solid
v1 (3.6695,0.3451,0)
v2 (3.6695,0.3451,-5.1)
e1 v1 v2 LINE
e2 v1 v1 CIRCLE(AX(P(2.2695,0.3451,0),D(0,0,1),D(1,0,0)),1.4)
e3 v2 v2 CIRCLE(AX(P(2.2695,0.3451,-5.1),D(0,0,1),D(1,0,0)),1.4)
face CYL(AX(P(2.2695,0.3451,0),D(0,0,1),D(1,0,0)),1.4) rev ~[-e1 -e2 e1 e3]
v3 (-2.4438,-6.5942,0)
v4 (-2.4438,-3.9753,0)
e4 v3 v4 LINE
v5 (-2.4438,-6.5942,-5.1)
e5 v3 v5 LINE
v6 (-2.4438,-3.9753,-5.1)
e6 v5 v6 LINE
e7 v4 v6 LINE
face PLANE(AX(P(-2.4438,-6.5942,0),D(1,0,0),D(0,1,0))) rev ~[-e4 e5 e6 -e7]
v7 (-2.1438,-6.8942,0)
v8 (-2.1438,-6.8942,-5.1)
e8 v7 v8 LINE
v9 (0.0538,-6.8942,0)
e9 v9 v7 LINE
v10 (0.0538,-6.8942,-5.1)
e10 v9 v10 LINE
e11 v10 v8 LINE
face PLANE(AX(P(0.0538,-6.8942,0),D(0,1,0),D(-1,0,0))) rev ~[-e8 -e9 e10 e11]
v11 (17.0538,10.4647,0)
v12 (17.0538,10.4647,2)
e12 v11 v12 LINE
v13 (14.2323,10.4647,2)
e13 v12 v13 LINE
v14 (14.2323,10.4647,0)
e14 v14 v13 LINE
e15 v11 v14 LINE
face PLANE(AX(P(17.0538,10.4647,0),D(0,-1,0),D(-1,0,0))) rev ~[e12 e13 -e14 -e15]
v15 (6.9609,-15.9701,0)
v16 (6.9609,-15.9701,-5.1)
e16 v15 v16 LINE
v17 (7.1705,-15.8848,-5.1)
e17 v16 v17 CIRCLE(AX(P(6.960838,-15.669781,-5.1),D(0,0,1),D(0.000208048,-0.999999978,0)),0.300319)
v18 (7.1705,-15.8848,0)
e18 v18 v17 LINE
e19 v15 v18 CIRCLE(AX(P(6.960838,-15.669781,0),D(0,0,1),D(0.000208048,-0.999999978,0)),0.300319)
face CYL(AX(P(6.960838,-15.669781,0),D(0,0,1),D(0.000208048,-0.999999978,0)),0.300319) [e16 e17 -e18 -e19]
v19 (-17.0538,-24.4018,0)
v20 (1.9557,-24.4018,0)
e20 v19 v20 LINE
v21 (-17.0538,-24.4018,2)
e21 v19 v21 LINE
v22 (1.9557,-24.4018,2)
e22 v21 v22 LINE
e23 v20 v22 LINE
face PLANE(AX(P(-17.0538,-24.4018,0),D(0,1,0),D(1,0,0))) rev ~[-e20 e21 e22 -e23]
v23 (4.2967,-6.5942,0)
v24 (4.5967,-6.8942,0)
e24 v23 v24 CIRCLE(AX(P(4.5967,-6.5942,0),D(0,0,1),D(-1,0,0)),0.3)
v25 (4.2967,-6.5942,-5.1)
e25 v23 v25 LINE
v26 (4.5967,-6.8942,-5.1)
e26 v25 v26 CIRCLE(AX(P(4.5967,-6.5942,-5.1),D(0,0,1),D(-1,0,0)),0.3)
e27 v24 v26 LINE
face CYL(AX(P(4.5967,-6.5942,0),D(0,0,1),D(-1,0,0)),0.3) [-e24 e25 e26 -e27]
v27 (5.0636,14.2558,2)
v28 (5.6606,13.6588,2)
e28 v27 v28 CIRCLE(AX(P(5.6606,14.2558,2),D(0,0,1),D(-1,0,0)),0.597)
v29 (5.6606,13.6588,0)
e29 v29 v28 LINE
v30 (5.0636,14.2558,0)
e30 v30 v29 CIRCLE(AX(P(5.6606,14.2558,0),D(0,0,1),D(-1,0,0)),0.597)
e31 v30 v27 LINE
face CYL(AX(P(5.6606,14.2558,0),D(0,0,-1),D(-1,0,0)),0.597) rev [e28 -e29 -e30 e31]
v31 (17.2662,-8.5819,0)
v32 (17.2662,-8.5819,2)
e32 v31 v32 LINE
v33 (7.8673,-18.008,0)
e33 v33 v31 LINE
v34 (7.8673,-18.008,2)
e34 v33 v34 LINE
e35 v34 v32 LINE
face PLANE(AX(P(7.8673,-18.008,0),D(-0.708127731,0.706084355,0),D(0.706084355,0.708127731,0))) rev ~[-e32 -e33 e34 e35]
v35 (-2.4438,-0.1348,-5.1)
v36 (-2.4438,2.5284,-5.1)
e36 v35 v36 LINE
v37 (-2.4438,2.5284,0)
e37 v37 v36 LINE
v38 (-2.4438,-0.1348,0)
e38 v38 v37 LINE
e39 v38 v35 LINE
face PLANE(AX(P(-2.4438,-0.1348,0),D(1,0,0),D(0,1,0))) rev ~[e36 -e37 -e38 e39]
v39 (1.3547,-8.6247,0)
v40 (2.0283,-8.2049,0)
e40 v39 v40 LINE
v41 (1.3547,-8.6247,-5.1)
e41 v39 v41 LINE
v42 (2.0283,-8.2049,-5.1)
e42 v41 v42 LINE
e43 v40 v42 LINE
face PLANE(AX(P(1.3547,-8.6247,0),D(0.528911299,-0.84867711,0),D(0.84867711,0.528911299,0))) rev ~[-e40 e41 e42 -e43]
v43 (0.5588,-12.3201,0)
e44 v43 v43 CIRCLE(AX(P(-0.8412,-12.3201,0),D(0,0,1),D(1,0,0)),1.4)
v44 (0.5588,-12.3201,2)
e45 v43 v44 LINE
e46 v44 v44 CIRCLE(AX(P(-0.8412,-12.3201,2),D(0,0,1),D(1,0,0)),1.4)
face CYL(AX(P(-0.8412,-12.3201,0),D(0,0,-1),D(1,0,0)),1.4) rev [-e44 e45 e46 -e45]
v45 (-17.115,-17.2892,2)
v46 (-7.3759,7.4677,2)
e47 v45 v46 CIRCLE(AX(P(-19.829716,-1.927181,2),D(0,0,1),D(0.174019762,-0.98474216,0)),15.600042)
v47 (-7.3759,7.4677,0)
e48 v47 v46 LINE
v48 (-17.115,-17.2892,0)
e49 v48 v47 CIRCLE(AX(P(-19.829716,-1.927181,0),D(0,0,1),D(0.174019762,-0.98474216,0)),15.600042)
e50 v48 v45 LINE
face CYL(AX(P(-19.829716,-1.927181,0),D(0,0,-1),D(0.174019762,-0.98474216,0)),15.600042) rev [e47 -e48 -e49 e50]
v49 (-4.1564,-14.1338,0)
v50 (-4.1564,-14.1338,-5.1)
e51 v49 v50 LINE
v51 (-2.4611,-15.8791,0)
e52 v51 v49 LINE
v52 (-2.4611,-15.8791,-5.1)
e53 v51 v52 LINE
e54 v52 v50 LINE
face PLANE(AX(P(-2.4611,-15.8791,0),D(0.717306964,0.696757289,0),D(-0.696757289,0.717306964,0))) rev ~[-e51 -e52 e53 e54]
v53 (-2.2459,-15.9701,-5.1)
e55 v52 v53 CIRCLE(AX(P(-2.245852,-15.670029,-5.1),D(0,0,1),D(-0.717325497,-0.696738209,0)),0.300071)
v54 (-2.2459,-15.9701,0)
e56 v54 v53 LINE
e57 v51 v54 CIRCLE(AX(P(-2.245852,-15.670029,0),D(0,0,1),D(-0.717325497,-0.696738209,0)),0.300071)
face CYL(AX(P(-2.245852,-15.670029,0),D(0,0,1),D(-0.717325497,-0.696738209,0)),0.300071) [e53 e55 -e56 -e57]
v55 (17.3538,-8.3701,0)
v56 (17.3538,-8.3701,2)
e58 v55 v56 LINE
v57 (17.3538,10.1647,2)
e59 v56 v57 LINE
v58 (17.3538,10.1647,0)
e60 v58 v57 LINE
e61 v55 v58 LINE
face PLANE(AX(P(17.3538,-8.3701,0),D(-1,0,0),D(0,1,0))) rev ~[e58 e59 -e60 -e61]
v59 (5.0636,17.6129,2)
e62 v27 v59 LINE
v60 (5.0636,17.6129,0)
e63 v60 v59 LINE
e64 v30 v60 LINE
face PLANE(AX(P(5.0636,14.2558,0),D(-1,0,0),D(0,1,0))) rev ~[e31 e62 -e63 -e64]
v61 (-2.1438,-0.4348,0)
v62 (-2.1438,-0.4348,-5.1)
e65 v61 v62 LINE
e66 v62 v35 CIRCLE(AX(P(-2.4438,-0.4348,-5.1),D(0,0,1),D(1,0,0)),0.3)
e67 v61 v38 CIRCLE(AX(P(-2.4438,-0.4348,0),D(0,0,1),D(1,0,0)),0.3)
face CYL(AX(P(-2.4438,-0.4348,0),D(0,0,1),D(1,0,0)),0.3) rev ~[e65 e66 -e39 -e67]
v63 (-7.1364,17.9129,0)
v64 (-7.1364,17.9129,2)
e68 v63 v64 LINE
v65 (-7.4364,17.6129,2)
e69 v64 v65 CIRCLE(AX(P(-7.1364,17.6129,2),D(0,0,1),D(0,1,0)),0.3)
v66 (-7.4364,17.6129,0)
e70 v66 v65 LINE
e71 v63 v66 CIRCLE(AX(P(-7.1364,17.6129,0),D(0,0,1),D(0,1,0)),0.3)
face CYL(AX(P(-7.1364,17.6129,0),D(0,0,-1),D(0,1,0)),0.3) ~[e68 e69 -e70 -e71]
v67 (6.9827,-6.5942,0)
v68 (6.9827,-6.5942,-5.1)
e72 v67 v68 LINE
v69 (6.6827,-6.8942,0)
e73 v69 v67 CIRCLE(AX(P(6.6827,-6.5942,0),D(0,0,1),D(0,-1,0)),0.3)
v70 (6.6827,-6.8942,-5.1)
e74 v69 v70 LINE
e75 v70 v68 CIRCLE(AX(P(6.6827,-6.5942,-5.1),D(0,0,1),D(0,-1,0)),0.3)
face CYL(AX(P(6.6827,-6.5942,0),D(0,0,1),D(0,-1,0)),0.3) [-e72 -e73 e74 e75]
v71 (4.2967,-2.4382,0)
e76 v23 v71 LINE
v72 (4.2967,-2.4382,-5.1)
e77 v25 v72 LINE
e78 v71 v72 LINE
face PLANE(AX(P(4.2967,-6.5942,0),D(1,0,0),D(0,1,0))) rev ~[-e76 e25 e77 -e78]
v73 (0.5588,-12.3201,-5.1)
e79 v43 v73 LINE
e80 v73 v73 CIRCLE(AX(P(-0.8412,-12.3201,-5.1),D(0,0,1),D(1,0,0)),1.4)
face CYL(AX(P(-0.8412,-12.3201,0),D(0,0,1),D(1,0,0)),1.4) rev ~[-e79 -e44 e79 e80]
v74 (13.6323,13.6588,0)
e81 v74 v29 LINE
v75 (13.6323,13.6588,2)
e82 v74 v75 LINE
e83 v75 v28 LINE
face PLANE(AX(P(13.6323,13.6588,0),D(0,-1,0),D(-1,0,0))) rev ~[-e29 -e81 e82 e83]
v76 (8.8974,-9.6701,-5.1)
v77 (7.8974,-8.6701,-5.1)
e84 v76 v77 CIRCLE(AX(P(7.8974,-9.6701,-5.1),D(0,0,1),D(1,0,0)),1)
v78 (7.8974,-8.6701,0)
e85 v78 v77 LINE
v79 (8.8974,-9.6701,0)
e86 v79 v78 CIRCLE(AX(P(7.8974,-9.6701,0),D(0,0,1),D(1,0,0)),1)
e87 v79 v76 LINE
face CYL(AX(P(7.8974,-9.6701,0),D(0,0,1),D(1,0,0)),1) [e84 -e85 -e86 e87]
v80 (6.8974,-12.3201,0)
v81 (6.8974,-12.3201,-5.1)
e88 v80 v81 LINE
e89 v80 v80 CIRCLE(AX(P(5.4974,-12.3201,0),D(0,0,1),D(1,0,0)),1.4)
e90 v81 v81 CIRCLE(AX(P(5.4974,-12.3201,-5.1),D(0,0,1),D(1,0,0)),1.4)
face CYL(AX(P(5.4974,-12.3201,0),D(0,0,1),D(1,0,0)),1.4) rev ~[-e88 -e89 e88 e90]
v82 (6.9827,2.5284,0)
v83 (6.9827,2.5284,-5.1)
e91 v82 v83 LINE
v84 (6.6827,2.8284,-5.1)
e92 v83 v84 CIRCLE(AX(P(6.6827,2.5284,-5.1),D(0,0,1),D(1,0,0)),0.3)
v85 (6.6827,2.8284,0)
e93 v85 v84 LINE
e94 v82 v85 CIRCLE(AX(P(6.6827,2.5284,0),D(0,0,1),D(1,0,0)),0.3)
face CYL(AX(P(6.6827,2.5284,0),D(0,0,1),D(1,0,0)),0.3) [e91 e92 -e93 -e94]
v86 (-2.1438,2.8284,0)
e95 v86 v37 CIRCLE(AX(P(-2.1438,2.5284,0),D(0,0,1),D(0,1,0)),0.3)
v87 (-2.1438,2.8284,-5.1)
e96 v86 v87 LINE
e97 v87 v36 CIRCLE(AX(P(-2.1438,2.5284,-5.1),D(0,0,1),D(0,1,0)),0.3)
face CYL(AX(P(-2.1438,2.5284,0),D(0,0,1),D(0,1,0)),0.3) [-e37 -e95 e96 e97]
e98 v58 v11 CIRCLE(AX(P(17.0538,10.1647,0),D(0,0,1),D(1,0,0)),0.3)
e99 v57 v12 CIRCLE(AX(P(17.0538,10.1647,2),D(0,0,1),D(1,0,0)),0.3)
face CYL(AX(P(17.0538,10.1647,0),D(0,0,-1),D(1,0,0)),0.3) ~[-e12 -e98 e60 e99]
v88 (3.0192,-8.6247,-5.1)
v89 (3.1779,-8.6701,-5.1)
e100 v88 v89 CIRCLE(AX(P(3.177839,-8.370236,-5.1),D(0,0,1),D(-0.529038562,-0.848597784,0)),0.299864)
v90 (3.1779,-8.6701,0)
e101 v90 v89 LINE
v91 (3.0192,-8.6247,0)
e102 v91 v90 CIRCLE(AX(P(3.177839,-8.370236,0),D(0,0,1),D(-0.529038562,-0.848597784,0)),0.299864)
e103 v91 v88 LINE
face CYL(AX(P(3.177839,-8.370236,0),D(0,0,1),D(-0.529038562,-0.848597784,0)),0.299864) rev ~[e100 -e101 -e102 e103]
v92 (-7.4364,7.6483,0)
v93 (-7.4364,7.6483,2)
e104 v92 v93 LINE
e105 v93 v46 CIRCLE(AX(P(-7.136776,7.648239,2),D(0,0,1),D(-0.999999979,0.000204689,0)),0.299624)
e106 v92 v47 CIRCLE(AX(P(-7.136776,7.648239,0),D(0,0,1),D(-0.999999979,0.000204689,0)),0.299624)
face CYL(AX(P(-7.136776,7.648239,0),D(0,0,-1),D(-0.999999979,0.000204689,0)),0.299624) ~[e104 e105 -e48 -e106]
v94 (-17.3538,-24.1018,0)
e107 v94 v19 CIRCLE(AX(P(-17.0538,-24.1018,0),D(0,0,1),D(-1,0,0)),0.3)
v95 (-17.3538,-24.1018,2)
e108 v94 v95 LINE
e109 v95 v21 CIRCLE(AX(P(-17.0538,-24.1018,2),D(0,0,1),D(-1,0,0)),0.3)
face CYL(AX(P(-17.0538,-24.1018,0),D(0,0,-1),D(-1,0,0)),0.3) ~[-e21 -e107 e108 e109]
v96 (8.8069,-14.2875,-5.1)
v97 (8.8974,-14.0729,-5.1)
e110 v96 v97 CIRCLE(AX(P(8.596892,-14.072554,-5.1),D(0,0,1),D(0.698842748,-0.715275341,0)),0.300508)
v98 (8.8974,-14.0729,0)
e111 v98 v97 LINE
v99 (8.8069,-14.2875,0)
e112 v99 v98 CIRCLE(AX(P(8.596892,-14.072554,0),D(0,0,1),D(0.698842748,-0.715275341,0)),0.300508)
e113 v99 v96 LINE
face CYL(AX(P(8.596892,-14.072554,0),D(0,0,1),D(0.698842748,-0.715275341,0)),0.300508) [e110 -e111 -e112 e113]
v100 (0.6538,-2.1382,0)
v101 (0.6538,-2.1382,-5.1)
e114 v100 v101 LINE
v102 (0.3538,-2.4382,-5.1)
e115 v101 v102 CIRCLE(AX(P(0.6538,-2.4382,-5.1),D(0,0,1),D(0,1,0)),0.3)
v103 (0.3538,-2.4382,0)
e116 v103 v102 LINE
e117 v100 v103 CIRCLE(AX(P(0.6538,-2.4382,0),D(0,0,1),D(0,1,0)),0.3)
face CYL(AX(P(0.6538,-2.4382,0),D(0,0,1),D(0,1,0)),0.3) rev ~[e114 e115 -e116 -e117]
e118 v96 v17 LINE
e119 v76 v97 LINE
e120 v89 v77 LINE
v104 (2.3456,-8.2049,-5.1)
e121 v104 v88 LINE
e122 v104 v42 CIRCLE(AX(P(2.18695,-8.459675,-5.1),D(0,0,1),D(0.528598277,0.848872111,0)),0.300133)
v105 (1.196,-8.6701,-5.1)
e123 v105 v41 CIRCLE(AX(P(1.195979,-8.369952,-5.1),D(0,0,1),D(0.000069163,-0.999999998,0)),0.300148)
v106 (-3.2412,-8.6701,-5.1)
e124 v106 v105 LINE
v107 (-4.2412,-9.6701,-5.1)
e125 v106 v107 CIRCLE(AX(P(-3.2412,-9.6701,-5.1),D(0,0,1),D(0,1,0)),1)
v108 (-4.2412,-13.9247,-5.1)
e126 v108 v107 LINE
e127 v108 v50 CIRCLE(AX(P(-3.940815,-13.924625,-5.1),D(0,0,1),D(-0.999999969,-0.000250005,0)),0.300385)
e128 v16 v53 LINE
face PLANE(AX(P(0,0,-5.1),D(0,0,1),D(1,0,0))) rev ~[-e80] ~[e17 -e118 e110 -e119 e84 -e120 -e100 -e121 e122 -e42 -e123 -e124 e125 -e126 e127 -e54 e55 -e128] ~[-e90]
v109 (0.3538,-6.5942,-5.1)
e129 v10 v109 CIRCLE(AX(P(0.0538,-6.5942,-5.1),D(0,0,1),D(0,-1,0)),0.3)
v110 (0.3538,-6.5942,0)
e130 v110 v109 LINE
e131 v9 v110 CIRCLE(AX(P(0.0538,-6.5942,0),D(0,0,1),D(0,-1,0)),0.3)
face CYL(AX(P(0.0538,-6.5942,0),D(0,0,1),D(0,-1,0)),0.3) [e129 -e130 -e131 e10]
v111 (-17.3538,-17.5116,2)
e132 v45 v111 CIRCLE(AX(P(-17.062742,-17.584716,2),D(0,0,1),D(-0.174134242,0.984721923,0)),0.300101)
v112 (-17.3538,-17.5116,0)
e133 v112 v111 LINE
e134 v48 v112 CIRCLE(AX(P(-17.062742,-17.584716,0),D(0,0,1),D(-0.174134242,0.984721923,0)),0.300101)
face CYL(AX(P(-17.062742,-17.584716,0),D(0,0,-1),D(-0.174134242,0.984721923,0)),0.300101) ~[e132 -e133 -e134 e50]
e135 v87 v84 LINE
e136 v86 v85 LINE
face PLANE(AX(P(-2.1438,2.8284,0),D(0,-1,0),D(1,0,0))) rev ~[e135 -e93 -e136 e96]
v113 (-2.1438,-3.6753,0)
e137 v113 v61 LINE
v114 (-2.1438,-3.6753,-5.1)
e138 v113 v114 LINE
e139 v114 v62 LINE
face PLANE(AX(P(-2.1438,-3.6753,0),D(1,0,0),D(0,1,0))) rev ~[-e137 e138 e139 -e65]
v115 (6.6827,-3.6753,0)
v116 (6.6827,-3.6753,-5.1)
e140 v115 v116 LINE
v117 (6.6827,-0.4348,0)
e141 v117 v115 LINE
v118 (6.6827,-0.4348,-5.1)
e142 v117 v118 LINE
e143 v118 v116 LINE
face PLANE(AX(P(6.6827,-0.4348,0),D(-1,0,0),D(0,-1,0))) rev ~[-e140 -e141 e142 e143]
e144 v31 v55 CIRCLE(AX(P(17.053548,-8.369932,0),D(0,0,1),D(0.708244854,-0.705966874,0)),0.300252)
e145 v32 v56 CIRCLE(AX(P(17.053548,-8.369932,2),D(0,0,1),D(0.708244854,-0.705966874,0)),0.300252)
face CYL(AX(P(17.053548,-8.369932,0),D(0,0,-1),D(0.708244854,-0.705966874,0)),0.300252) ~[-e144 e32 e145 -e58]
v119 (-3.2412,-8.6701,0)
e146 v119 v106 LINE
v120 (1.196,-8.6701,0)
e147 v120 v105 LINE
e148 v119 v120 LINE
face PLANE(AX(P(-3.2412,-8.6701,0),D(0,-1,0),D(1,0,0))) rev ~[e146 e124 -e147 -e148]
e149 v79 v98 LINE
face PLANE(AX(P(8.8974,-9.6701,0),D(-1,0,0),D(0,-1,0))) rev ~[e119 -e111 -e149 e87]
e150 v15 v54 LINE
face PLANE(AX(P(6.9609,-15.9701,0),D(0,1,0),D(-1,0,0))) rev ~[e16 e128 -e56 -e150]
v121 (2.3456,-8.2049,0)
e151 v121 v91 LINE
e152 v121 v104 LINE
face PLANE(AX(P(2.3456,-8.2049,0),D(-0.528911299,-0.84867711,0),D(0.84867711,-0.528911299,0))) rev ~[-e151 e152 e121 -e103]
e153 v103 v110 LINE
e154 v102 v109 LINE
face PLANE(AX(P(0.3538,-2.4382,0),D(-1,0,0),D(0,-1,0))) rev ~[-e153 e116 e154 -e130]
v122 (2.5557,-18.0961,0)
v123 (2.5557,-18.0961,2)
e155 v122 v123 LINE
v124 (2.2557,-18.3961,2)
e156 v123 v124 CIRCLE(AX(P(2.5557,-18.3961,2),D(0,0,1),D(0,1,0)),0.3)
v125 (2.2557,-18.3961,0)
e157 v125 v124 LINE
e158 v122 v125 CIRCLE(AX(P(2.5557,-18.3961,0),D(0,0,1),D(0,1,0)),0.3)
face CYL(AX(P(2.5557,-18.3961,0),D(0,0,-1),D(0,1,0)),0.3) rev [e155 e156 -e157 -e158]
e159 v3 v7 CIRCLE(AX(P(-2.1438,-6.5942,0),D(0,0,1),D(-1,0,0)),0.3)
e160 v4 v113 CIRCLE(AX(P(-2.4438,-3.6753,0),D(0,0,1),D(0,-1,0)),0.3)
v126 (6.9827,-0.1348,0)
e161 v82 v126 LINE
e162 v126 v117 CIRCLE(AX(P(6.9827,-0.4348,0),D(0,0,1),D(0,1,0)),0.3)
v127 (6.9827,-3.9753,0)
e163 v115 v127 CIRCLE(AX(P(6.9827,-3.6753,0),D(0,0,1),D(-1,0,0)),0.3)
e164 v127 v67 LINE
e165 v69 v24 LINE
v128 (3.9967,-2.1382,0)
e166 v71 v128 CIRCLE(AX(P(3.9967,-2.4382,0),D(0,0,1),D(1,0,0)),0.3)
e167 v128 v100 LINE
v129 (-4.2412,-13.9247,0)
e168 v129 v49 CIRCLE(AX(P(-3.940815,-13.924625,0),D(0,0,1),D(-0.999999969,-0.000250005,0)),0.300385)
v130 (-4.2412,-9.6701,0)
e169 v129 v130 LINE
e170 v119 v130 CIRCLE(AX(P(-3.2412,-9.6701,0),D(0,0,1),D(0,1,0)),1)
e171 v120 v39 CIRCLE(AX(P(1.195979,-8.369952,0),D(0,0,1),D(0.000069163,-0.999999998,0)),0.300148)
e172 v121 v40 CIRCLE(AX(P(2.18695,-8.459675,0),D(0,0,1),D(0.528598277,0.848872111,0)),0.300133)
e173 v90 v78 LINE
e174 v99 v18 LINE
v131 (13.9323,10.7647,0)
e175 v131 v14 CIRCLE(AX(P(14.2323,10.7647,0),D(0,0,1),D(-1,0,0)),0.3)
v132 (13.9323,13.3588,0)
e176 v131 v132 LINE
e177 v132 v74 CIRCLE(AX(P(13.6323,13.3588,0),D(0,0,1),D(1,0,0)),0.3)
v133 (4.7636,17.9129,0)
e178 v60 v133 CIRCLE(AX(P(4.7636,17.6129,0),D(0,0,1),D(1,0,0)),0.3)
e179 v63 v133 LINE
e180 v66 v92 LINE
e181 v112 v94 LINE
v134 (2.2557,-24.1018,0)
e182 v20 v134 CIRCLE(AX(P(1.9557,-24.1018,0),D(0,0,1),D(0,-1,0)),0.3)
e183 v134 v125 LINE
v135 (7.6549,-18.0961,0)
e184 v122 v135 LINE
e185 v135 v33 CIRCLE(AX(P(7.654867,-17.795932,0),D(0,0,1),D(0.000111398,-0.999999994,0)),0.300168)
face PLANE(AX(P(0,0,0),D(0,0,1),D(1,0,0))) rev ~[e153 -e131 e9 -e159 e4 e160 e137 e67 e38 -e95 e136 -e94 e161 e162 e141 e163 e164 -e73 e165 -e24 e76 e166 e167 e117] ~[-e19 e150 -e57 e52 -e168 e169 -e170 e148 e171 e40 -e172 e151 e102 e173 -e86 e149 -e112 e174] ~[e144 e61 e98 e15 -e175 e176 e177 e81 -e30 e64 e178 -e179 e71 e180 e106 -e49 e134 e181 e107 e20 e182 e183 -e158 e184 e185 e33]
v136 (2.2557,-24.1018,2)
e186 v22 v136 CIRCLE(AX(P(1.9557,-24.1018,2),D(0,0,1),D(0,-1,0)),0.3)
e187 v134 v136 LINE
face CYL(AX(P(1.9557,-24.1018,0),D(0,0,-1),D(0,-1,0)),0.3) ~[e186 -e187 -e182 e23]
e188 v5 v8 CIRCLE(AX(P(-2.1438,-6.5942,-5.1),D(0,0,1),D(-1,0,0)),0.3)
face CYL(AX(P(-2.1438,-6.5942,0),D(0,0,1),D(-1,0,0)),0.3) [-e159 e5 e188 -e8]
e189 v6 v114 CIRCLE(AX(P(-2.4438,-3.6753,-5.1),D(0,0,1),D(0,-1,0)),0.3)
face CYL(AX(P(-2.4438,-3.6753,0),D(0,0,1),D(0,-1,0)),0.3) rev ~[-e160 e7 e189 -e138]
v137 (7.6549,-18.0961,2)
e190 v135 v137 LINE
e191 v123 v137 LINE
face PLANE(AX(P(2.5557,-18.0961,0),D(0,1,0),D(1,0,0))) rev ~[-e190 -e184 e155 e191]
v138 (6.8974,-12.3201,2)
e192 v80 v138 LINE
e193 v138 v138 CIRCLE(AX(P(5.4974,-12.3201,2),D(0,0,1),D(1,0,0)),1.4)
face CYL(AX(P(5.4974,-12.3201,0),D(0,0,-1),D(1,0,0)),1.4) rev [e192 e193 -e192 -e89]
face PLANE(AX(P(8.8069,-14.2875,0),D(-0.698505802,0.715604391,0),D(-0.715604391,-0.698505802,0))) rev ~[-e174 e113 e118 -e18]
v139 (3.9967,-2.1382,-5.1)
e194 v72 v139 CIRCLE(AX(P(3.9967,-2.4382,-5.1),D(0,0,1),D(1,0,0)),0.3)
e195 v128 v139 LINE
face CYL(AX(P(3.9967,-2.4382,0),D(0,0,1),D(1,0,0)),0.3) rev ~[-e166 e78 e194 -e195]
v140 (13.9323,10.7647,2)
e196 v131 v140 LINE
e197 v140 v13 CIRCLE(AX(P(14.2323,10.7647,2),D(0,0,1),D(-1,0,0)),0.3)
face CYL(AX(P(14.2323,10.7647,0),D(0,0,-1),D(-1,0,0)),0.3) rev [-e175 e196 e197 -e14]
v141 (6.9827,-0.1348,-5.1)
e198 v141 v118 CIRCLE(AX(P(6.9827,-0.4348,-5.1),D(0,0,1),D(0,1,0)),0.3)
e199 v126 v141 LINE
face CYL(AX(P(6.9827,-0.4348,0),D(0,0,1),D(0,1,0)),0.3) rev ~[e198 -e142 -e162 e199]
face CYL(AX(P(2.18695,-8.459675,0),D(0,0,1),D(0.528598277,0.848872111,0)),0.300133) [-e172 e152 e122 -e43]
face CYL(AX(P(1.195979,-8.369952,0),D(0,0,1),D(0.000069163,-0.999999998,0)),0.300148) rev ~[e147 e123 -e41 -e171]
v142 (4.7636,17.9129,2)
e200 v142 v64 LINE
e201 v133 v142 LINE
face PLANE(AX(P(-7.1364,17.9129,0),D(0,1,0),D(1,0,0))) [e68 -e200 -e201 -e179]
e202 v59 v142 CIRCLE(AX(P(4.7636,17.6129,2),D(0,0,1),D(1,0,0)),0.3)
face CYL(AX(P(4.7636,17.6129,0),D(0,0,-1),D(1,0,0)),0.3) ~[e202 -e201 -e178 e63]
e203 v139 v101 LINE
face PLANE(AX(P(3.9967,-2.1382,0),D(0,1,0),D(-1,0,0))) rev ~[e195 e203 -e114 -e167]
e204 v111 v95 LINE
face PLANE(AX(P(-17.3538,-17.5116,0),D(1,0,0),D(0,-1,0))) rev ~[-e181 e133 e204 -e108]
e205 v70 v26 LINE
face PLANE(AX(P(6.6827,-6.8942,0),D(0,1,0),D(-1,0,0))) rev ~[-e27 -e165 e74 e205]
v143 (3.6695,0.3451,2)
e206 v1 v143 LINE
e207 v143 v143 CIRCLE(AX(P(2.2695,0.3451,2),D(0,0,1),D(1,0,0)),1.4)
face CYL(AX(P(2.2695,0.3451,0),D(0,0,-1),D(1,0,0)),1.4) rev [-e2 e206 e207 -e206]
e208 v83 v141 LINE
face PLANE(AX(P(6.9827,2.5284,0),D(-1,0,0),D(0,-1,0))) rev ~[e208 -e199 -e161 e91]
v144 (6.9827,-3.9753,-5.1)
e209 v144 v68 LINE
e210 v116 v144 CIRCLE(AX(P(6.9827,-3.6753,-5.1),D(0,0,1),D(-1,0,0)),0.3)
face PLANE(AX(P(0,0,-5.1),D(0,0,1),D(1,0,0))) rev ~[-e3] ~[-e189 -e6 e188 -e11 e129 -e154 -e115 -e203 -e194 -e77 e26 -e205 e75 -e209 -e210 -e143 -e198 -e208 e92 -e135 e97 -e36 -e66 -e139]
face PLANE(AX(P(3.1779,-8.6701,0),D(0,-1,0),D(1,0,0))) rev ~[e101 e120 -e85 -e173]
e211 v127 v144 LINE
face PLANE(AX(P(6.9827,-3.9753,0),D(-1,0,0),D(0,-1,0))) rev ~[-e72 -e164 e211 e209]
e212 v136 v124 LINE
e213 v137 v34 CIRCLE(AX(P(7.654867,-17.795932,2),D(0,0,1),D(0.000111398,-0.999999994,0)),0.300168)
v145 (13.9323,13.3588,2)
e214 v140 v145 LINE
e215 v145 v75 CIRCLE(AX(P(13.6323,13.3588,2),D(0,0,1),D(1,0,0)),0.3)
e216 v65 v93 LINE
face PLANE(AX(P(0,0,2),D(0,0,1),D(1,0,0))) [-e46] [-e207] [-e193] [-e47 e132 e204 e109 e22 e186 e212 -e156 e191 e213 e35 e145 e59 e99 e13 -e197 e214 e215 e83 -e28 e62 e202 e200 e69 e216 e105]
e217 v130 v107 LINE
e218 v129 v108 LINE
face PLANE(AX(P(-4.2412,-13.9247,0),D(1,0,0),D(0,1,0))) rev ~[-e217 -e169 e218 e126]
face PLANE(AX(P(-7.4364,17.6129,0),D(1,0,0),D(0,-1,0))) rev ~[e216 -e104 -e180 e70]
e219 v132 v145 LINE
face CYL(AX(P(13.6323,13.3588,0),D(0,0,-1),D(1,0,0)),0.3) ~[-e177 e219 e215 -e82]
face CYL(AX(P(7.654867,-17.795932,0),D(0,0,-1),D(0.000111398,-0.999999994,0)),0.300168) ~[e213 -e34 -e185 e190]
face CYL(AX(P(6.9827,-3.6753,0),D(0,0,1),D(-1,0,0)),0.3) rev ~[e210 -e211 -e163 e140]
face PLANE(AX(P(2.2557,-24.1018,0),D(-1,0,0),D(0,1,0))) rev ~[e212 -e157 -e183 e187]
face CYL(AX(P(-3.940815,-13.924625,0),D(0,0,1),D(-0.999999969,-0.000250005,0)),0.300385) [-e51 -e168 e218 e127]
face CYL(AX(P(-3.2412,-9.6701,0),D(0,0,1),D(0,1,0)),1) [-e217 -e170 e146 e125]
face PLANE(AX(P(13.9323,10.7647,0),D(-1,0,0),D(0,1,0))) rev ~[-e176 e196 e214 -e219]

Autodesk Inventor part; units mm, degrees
ref_plane "YZ Plane" through (0, 0, 0) normal (1, 0, 0) x (0, 1, 0)
ref_plane "Work Plane1" through (-17.3538, -25.3153, -5.1) normal (0, 0, 1) x (1, 0, 0)
sketch "holes" plane through (0, 0, 0) normal (0, 0, 1) x (1, 0, 0)
  arc A0 (17.3538, 10.1647) -> (17.0538, 10.4647) centre (17.0538, 10.1647) ccw
  line L0 (17.0538, 10.4647) -> (14.2323, 10.4647)
  arc A1 (13.9323, 10.7647) -> (14.2323, 10.4647) centre (14.2323, 10.7647) ccw
  line L1 (13.9323, 10.7647) -> (13.9323, 13.3588)
  arc A2 (13.9323, 13.3588) -> (13.6323, 13.6588) centre (13.6323, 13.3588) ccw
  line L2 (13.6323, 13.6588) -> (5.6606, 13.6588)
  arc A3 (5.0636, 14.2558) -> (5.6606, 13.6588) centre (5.6606, 14.2558) ccw
  line L3 (5.0636, 14.2558) -> (5.0636, 17.6129)
  arc A4 (5.0636, 17.6129) -> (4.7636, 17.9129) centre (4.7636, 17.6129) ccw
  line L4 (4.7636, 17.9129) -> (-1.9383, 17.9129)
  arc A5 (-2.2383, 18.2129) -> (-1.9383, 17.9129) centre (-1.9383, 18.2129) ccw
  line L5 (-2.2383, 18.2129) -> (-2.2383, 18.3742)
  arc A6 (-2.2383, 18.3742) -> (-2.5383, 18.6742) centre (-2.5383, 18.3742) ccw
  line L6 (-2.5383, 18.6742) -> (-3.5364, 18.6742)
  arc A7 (-3.8364, 18.9742) -> (-3.5364, 18.6742) centre (-3.5364, 18.9742) ccw
  line L7 (-3.8364, 18.9742) -> (-3.8364, 19.9671)
  arc A8 (-3.8364, 19.9671) -> (-4.1364, 20.2671) centre (-4.1364, 19.9671) ccw
  line L8 (-4.1364, 20.2671) -> (-5.1364, 20.2671)
  arc A9 (-5.4364, 20.5671) -> (-5.1364, 20.2671) centre (-5.1364, 20.5671) ccw
  line L9 (-5.4364, 20.5671) -> (-5.4364, 24.1018)
  arc A10 (-5.4364, 24.1018) -> (-5.7364, 24.4018) centre (-5.7364, 24.1018) ccw
  line L10 (-5.7364, 24.4018) -> (-7.1364, 24.4018)
  arc A11 (-7.1364, 24.4018) -> (-7.4364, 24.1018) centre (-7.1364, 24.1018) ccw
  line L11 (-7.4364, 24.1018) -> (-7.4364, 7.6483)
  arc A12 (-7.4364, 7.6483) -> (-7.3759, 7.4677) centre (-7.1364, 7.6483) ccw
  arc A13 (-17.115, -17.2892) -> (-7.3759, 7.4677) centre (-19.8297, -1.9272) ccw
  arc A14 (-17.115, -17.2892) -> (-17.3538, -17.5116) centre (-17.0628, -17.5846) ccw
  line L12 (-17.3538, -17.5116) -> (-17.3538, -24.1018)
  arc A15 (-17.3538, -24.1018) -> (-17.0538, -24.4018) centre (-17.0538, -24.1018) ccw
  line L13 (-17.0538, -24.4018) -> (1.9557, -24.4018)
  arc A16 (1.9557, -24.4018) -> (2.2557, -24.1018) centre (1.9557, -24.1018) ccw
  line L14 (2.2557, -24.1018) -> (2.2557, -18.3961)
  arc A17 (2.5557, -18.0961) -> (2.2557, -18.3961) centre (2.5557, -18.3961) ccw
  line L15 (2.5557, -18.0961) -> (7.6549, -18.0961)
  arc A18 (7.6549, -18.0961) -> (7.8673, -18.008) centre (7.6549, -17.7961) ccw
  line L16 (7.8673, -18.008) -> (17.2662, -8.5819)
  arc A19 (17.2662, -8.5819) -> (17.3538, -8.3701) centre (17.0538, -8.3701) ccw
  line L17 (17.3538, -8.3701) -> (17.3538, 10.1647)
  arc A20 (1.196, -8.6701) -> (1.3547, -8.6247) centre (1.196, -8.3701) ccw
  line L18 (1.3547, -8.6247) -> (2.0283, -8.2049)
  arc A21 (2.3456, -8.2049) -> (2.0283, -8.2049) centre (2.187, -8.4595) ccw
  line L19 (2.3456, -8.2049) -> (3.0192, -8.6247)
  arc A22 (3.0192, -8.6247) -> (3.1779, -8.6701) centre (3.1779, -8.3701) ccw
  line L20 (3.1779, -8.6701) -> (7.8974, -8.6701)
  arc A23 (8.8974, -9.6701) -> (7.8974, -8.6701) centre (7.8974, -9.6701) ccw
  line L21 (8.8974, -9.6701) -> (8.8974, -14.0729)
  arc A24 (8.8069, -14.2875) -> (8.8974, -14.0729) centre (8.5974, -14.0729) ccw
  line L22 (8.8069, -14.2875) -> (7.1705, -15.8848)
  arc A25 (6.9609, -15.9701) -> (7.1705, -15.8848) centre (6.9609, -15.6701) ccw
  line L23 (6.9609, -15.9701) -> (-2.2459, -15.9701)
  arc A26 (-2.4611, -15.8791) -> (-2.2459, -15.9701) centre (-2.2459, -15.6701) ccw
  line L24 (-2.4611, -15.8791) -> (-4.1564, -14.1338)
  arc A27 (-4.2412, -13.9247) -> (-4.1564, -14.1338) centre (-3.9412, -13.9247) ccw
  line L25 (-4.2412, -13.9247) -> (-4.2412, -9.6701)
  arc A28 (-3.2412, -8.6701) -> (-4.2412, -9.6701) centre (-3.2412, -9.6701) ccw
  line L26 (-3.2412, -8.6701) -> (1.196, -8.6701)
  arc A29 (4.2967, -2.4382) -> (3.9967, -2.1382) centre (3.9967, -2.4382) ccw
  line L27 (3.9967, -2.1382) -> (0.6538, -2.1382)
  arc A30 (0.6538, -2.1382) -> (0.3538, -2.4382) centre (0.6538, -2.4382) ccw
  line L28 (0.3538, -2.4382) -> (0.3538, -6.5942)
  arc A31 (0.0538, -6.8942) -> (0.3538, -6.5942) centre (0.0538, -6.5942) ccw
  line L29 (0.0538, -6.8942) -> (-2.1438, -6.8942)
  arc A32 (-2.4438, -6.5942) -> (-2.1438, -6.8942) centre (-2.1438, -6.5942) ccw
  line L30 (-2.4438, -6.5942) -> (-2.4438, -3.9753)
  arc A33 (-2.4438, -3.9753) -> (-2.1438, -3.6753) centre (-2.4438, -3.6753) ccw
  line L31 (-2.1438, -3.6753) -> (-2.1438, -0.4348)
  arc A34 (-2.1438, -0.4348) -> (-2.4438, -0.1348) centre (-2.4438, -0.4348) ccw
  line L32 (-2.4438, -0.1348) -> (-2.4438, 2.5284)
  arc A35 (-2.1438, 2.8284) -> (-2.4438, 2.5284) centre (-2.1438, 2.5284) ccw
  line L33 (-2.1438, 2.8284) -> (6.6827, 2.8284)
  arc A36 (6.9827, 2.5284) -> (6.6827, 2.8284) centre (6.6827, 2.5284) ccw
  line L34 (6.9827, 2.5284) -> (6.9827, -0.1348)
  arc A37 (6.9827, -0.1348) -> (6.6827, -0.4348) centre (6.9827, -0.4348) ccw
  line L35 (6.6827, -0.4348) -> (6.6827, -3.6753)
  arc A38 (6.6827, -3.6753) -> (6.9827, -3.9753) centre (6.9827, -3.6753) ccw
  line L36 (6.9827, -3.9753) -> (6.9827, -6.5942)
  arc A39 (6.6827, -6.8942) -> (6.9827, -6.5942) centre (6.6827, -6.5942) ccw
  line L37 (6.6827, -6.8942) -> (4.5967, -6.8942)
  arc A40 (4.2967, -6.5942) -> (4.5967, -6.8942) centre (4.5967, -6.5942) ccw
  line L38 (4.2967, -6.5942) -> (4.2967, -2.4382)
  circle A41 centre (2.2695, 0.3451) radius 1.4
  circle A42 centre (5.4974, -12.3201) radius 1.4
  circle A43 centre (-0.8412, -12.3201) radius 1.4
  line L39 (-7.1364, 17.9129) -> (4.7636, 17.9129)
  arc A44 (-7.1364, 17.9129) -> (-7.4364, 17.6129) centre (-7.1364, 17.6129) ccw
  line L40 (-7.4364, 7.6483) -> (-7.4364, 17.6129)
  point P0 (0, 0)
extrude "Extrusion1" add sketch "holes" against normal up to surface (5.1 mm away) contours A20 L18 A21 L19 A22 L20 A23 L21 A24 L22 A25 L23 A26 L24 A27 L25 A28 L26 | A29 L27 A30 L28 A31 L29 A32 L30 A33 L31 A34 L32 A35 L33 A36 L34 A37 L35 A38 L36 A39 L37 A40 L38
ref_plane "Work Plane2" through (282.7327, 0, 0) normal (0, 0, 1) x (1, 0, 0)
sketch "plate" plane through (0, 0, 0) normal (0, 0, 1) x (1, 0, 0)
  arc A0 (17.3538, 10.1647) -> (17.0538, 10.4647) centre (17.0538, 10.1647) ccw projected
  line L0 (17.0538, 10.4647) -> (14.2323, 10.4647) projected
  arc A1 (13.9323, 10.7647) -> (14.2323, 10.4647) centre (14.2323, 10.7647) ccw projected
  line L1 (13.9323, 10.7647) -> (13.9323, 13.3588) projected
  arc A2 (13.9323, 13.3588) -> (13.6323, 13.6588) centre (13.6323, 13.3588) ccw projected
  line L2 (13.6323, 13.6588) -> (5.6606, 13.6588) projected
  arc A3 (5.0636, 14.2558) -> (5.6606, 13.6588) centre (5.6606, 14.2558) ccw projected
  line L3 (5.0636, 14.2558) -> (5.0636, 17.6129) projected
  arc A4 (5.0636, 17.6129) -> (4.7636, 17.9129) centre (4.7636, 17.6129) ccw projected
  line L4 (4.7636, 17.9129) -> (-1.9383, 17.9129) projected
  arc A5 (-2.2383, 18.2129) -> (-1.9383, 17.9129) centre (-1.9383, 18.2129) ccw projected
  line L5 (-2.2383, 18.2129) -> (-2.2383, 18.3742) projected
  arc A6 (-2.2383, 18.3742) -> (-2.5383, 18.6742) centre (-2.5383, 18.3742) ccw projected
  line L6 (-2.5383, 18.6742) -> (-3.5364, 18.6742) projected
  arc A7 (-3.8364, 18.9742) -> (-3.5364, 18.6742) centre (-3.5364, 18.9742) ccw projected
  line L7 (-3.8364, 18.9742) -> (-3.8364, 19.9671) projected
  arc A8 (-3.8364, 19.9671) -> (-4.1364, 20.2671) centre (-4.1364, 19.9671) ccw projected
  line L8 (-4.1364, 20.2671) -> (-5.1364, 20.2671) projected
  arc A9 (-5.4364, 20.5671) -> (-5.1364, 20.2671) centre (-5.1364, 20.5671) ccw projected
  line L9 (-5.4364, 20.5671) -> (-5.4364, 24.1018) projected
  arc A10 (-5.4364, 24.1018) -> (-5.7364, 24.4018) centre (-5.7364, 24.1018) ccw projected
  line L10 (-5.7364, 24.4018) -> (-7.1364, 24.4018) projected
  arc A11 (-7.1364, 24.4018) -> (-7.4364, 24.1018) centre (-7.1364, 24.1018) ccw projected
  line L11 (-7.4364, 24.1018) -> (-7.4364, 7.6483) projected
  arc A12 (-7.4364, 7.6483) -> (-7.3759, 7.4677) centre (-7.1364, 7.6483) ccw projected
  arc A13 (-17.115, -17.2892) -> (-7.3759, 7.4677) centre (-19.8297, -1.9272) ccw projected
  arc A14 (-17.115, -17.2892) -> (-17.3538, -17.5116) centre (-17.0628, -17.5846) ccw projected
  line L12 (-17.3538, -17.5116) -> (-17.3538, -24.1018) projected
  arc A15 (-17.3538, -24.1018) -> (-17.0538, -24.4018) centre (-17.0538, -24.1018) ccw projected
  line L13 (-17.0538, -24.4018) -> (1.9557, -24.4018) projected
  arc A16 (1.9557, -24.4018) -> (2.2557, -24.1018) centre (1.9557, -24.1018) ccw projected
  line L14 (2.2557, -24.1018) -> (2.2557, -18.3961) projected
  arc A17 (2.5557, -18.0961) -> (2.2557, -18.3961) centre (2.5557, -18.3961) ccw projected
  line L15 (2.5557, -18.0961) -> (7.6549, -18.0961) projected
  arc A18 (7.6549, -18.0961) -> (7.8673, -18.008) centre (7.6549, -17.7961) ccw projected
  line L16 (7.8673, -18.008) -> (17.2662, -8.5819) projected
  arc A19 (17.2662, -8.5819) -> (17.3538, -8.3701) centre (17.0538, -8.3701) ccw projected
  line L17 (17.3538, -8.3701) -> (17.3538, 10.1647) projected
  arc A20 (1.196, -8.6701) -> (1.3547, -8.6247) centre (1.196, -8.3701) ccw projected
  line L18 (1.3547, -8.6247) -> (2.0283, -8.2049) projected
  arc A21 (2.3456, -8.2049) -> (2.0283, -8.2049) centre (2.187, -8.4595) ccw projected
  line L19 (2.3456, -8.2049) -> (3.0192, -8.6247) projected
  arc A22 (3.0192, -8.6247) -> (3.1779, -8.6701) centre (3.1779, -8.3701) ccw projected
  line L20 (3.1779, -8.6701) -> (7.8974, -8.6701) projected
  arc A23 (8.8974, -9.6701) -> (7.8974, -8.6701) centre (7.8974, -9.6701) ccw projected
  line L21 (8.8974, -9.6701) -> (8.8974, -14.0729) projected
  arc A24 (8.8069, -14.2875) -> (8.8974, -14.0729) centre (8.5974, -14.0729) ccw projected
  line L22 (8.8069, -14.2875) -> (7.1705, -15.8848) projected
  arc A25 (6.9609, -15.9701) -> (7.1705, -15.8848) centre (6.9609, -15.6701) ccw projected
  line L23 (6.9609, -15.9701) -> (-2.2459, -15.9701) projected
  arc A26 (-2.4611, -15.8791) -> (-2.2459, -15.9701) centre (-2.2459, -15.6701) ccw projected
  line L24 (-2.4611, -15.8791) -> (-4.1564, -14.1338) projected
  arc A27 (-4.2412, -13.9247) -> (-4.1564, -14.1338) centre (-3.9412, -13.9247) ccw projected
  line L25 (-4.2412, -13.9247) -> (-4.2412, -9.6701) projected
  arc A28 (-3.2412, -8.6701) -> (-4.2412, -9.6701) centre (-3.2412, -9.6701) ccw projected
  line L26 (-3.2412, -8.6701) -> (1.196, -8.6701) projected
  arc A29 (4.2967, -2.4382) -> (3.9967, -2.1382) centre (3.9967, -2.4382) ccw projected
  line L27 (3.9967, -2.1382) -> (0.6538, -2.1382) projected
  arc A30 (0.6538, -2.1382) -> (0.3538, -2.4382) centre (0.6538, -2.4382) ccw projected
  line L28 (0.3538, -2.4382) -> (0.3538, -6.5942) projected
  arc A31 (0.0538, -6.8942) -> (0.3538, -6.5942) centre (0.0538, -6.5942) ccw projected
  line L29 (0.0538, -6.8942) -> (-2.1438, -6.8942) projected
  arc A32 (-2.4438, -6.5942) -> (-2.1438, -6.8942) centre (-2.1438, -6.5942) ccw projected
  line L30 (-2.4438, -6.5942) -> (-2.4438, -3.9753) projected
  arc A33 (-2.4438, -3.9753) -> (-2.1438, -3.6753) centre (-2.4438, -3.6753) ccw projected
  line L31 (-2.1438, -3.6753) -> (-2.1438, -0.4348) projected
  arc A34 (-2.1438, -0.4348) -> (-2.4438, -0.1348) centre (-2.4438, -0.4348) ccw projected
  line L32 (-2.4438, -0.1348) -> (-2.4438, 2.5284) projected
  arc A35 (-2.1438, 2.8284) -> (-2.4438, 2.5284) centre (-2.1438, 2.5284) ccw projected
  line L33 (-2.1438, 2.8284) -> (6.6827, 2.8284) projected
  arc A36 (6.9827, 2.5284) -> (6.6827, 2.8284) centre (6.6827, 2.5284) ccw projected
  line L34 (6.9827, 2.5284) -> (6.9827, -0.1348) projected
  arc A37 (6.9827, -0.1348) -> (6.6827, -0.4348) centre (6.9827, -0.4348) ccw projected
  line L35 (6.6827, -0.4348) -> (6.6827, -3.6753) projected
  arc A38 (6.6827, -3.6753) -> (6.9827, -3.9753) centre (6.9827, -3.6753) ccw projected
  line L36 (6.9827, -3.9753) -> (6.9827, -6.5942) projected
  arc A39 (6.6827, -6.8942) -> (6.9827, -6.5942) centre (6.6827, -6.5942) ccw projected
  line L37 (6.6827, -6.8942) -> (4.5967, -6.8942) projected
  arc A40 (4.2967, -6.5942) -> (4.5967, -6.8942) centre (4.5967, -6.5942) ccw projected
  line L38 (4.2967, -6.5942) -> (4.2967, -2.4382) projected
  arc A41 (-7.1364, 17.9129) -> (-7.4364, 17.6129) centre (-7.1364, 17.6129) ccw projected
  line L39 (-7.1364, 17.9129) -> (4.7636, 17.9129) projected
  circle A42 centre (2.2695, 0.3451) radius 1.4 projected
  circle A43 centre (5.4974, -12.3201) radius 1.4 projected
  circle A44 centre (-0.8412, -12.3201) radius 1.4 projected
  point P0 (0, 0)
extrude "Extrusion2" add sketch "plate" along normal blind 2 contours L17 A19 L16 A18 L15 A17 L14 A16 L13 A15 L12 A14 A13 A12 L11 A41 L39 L4 A4 L3 A3 L2 A2 L1 A1 L0 A0 | A20 L18 A21 L19 A22 L20 A23 L21 A24 L22 A25 L23 A26 L24 A27 L25 A28 L26 | A29 L27 A30 L28 A31 L29 A32 L30 A33 L31 A34 L32 A35 L33 A36 L34 A37 L35 A38 L36 A39 L37 A40 L38
properties part number "mount_carriage_bottom" material "ABS Plastic"
